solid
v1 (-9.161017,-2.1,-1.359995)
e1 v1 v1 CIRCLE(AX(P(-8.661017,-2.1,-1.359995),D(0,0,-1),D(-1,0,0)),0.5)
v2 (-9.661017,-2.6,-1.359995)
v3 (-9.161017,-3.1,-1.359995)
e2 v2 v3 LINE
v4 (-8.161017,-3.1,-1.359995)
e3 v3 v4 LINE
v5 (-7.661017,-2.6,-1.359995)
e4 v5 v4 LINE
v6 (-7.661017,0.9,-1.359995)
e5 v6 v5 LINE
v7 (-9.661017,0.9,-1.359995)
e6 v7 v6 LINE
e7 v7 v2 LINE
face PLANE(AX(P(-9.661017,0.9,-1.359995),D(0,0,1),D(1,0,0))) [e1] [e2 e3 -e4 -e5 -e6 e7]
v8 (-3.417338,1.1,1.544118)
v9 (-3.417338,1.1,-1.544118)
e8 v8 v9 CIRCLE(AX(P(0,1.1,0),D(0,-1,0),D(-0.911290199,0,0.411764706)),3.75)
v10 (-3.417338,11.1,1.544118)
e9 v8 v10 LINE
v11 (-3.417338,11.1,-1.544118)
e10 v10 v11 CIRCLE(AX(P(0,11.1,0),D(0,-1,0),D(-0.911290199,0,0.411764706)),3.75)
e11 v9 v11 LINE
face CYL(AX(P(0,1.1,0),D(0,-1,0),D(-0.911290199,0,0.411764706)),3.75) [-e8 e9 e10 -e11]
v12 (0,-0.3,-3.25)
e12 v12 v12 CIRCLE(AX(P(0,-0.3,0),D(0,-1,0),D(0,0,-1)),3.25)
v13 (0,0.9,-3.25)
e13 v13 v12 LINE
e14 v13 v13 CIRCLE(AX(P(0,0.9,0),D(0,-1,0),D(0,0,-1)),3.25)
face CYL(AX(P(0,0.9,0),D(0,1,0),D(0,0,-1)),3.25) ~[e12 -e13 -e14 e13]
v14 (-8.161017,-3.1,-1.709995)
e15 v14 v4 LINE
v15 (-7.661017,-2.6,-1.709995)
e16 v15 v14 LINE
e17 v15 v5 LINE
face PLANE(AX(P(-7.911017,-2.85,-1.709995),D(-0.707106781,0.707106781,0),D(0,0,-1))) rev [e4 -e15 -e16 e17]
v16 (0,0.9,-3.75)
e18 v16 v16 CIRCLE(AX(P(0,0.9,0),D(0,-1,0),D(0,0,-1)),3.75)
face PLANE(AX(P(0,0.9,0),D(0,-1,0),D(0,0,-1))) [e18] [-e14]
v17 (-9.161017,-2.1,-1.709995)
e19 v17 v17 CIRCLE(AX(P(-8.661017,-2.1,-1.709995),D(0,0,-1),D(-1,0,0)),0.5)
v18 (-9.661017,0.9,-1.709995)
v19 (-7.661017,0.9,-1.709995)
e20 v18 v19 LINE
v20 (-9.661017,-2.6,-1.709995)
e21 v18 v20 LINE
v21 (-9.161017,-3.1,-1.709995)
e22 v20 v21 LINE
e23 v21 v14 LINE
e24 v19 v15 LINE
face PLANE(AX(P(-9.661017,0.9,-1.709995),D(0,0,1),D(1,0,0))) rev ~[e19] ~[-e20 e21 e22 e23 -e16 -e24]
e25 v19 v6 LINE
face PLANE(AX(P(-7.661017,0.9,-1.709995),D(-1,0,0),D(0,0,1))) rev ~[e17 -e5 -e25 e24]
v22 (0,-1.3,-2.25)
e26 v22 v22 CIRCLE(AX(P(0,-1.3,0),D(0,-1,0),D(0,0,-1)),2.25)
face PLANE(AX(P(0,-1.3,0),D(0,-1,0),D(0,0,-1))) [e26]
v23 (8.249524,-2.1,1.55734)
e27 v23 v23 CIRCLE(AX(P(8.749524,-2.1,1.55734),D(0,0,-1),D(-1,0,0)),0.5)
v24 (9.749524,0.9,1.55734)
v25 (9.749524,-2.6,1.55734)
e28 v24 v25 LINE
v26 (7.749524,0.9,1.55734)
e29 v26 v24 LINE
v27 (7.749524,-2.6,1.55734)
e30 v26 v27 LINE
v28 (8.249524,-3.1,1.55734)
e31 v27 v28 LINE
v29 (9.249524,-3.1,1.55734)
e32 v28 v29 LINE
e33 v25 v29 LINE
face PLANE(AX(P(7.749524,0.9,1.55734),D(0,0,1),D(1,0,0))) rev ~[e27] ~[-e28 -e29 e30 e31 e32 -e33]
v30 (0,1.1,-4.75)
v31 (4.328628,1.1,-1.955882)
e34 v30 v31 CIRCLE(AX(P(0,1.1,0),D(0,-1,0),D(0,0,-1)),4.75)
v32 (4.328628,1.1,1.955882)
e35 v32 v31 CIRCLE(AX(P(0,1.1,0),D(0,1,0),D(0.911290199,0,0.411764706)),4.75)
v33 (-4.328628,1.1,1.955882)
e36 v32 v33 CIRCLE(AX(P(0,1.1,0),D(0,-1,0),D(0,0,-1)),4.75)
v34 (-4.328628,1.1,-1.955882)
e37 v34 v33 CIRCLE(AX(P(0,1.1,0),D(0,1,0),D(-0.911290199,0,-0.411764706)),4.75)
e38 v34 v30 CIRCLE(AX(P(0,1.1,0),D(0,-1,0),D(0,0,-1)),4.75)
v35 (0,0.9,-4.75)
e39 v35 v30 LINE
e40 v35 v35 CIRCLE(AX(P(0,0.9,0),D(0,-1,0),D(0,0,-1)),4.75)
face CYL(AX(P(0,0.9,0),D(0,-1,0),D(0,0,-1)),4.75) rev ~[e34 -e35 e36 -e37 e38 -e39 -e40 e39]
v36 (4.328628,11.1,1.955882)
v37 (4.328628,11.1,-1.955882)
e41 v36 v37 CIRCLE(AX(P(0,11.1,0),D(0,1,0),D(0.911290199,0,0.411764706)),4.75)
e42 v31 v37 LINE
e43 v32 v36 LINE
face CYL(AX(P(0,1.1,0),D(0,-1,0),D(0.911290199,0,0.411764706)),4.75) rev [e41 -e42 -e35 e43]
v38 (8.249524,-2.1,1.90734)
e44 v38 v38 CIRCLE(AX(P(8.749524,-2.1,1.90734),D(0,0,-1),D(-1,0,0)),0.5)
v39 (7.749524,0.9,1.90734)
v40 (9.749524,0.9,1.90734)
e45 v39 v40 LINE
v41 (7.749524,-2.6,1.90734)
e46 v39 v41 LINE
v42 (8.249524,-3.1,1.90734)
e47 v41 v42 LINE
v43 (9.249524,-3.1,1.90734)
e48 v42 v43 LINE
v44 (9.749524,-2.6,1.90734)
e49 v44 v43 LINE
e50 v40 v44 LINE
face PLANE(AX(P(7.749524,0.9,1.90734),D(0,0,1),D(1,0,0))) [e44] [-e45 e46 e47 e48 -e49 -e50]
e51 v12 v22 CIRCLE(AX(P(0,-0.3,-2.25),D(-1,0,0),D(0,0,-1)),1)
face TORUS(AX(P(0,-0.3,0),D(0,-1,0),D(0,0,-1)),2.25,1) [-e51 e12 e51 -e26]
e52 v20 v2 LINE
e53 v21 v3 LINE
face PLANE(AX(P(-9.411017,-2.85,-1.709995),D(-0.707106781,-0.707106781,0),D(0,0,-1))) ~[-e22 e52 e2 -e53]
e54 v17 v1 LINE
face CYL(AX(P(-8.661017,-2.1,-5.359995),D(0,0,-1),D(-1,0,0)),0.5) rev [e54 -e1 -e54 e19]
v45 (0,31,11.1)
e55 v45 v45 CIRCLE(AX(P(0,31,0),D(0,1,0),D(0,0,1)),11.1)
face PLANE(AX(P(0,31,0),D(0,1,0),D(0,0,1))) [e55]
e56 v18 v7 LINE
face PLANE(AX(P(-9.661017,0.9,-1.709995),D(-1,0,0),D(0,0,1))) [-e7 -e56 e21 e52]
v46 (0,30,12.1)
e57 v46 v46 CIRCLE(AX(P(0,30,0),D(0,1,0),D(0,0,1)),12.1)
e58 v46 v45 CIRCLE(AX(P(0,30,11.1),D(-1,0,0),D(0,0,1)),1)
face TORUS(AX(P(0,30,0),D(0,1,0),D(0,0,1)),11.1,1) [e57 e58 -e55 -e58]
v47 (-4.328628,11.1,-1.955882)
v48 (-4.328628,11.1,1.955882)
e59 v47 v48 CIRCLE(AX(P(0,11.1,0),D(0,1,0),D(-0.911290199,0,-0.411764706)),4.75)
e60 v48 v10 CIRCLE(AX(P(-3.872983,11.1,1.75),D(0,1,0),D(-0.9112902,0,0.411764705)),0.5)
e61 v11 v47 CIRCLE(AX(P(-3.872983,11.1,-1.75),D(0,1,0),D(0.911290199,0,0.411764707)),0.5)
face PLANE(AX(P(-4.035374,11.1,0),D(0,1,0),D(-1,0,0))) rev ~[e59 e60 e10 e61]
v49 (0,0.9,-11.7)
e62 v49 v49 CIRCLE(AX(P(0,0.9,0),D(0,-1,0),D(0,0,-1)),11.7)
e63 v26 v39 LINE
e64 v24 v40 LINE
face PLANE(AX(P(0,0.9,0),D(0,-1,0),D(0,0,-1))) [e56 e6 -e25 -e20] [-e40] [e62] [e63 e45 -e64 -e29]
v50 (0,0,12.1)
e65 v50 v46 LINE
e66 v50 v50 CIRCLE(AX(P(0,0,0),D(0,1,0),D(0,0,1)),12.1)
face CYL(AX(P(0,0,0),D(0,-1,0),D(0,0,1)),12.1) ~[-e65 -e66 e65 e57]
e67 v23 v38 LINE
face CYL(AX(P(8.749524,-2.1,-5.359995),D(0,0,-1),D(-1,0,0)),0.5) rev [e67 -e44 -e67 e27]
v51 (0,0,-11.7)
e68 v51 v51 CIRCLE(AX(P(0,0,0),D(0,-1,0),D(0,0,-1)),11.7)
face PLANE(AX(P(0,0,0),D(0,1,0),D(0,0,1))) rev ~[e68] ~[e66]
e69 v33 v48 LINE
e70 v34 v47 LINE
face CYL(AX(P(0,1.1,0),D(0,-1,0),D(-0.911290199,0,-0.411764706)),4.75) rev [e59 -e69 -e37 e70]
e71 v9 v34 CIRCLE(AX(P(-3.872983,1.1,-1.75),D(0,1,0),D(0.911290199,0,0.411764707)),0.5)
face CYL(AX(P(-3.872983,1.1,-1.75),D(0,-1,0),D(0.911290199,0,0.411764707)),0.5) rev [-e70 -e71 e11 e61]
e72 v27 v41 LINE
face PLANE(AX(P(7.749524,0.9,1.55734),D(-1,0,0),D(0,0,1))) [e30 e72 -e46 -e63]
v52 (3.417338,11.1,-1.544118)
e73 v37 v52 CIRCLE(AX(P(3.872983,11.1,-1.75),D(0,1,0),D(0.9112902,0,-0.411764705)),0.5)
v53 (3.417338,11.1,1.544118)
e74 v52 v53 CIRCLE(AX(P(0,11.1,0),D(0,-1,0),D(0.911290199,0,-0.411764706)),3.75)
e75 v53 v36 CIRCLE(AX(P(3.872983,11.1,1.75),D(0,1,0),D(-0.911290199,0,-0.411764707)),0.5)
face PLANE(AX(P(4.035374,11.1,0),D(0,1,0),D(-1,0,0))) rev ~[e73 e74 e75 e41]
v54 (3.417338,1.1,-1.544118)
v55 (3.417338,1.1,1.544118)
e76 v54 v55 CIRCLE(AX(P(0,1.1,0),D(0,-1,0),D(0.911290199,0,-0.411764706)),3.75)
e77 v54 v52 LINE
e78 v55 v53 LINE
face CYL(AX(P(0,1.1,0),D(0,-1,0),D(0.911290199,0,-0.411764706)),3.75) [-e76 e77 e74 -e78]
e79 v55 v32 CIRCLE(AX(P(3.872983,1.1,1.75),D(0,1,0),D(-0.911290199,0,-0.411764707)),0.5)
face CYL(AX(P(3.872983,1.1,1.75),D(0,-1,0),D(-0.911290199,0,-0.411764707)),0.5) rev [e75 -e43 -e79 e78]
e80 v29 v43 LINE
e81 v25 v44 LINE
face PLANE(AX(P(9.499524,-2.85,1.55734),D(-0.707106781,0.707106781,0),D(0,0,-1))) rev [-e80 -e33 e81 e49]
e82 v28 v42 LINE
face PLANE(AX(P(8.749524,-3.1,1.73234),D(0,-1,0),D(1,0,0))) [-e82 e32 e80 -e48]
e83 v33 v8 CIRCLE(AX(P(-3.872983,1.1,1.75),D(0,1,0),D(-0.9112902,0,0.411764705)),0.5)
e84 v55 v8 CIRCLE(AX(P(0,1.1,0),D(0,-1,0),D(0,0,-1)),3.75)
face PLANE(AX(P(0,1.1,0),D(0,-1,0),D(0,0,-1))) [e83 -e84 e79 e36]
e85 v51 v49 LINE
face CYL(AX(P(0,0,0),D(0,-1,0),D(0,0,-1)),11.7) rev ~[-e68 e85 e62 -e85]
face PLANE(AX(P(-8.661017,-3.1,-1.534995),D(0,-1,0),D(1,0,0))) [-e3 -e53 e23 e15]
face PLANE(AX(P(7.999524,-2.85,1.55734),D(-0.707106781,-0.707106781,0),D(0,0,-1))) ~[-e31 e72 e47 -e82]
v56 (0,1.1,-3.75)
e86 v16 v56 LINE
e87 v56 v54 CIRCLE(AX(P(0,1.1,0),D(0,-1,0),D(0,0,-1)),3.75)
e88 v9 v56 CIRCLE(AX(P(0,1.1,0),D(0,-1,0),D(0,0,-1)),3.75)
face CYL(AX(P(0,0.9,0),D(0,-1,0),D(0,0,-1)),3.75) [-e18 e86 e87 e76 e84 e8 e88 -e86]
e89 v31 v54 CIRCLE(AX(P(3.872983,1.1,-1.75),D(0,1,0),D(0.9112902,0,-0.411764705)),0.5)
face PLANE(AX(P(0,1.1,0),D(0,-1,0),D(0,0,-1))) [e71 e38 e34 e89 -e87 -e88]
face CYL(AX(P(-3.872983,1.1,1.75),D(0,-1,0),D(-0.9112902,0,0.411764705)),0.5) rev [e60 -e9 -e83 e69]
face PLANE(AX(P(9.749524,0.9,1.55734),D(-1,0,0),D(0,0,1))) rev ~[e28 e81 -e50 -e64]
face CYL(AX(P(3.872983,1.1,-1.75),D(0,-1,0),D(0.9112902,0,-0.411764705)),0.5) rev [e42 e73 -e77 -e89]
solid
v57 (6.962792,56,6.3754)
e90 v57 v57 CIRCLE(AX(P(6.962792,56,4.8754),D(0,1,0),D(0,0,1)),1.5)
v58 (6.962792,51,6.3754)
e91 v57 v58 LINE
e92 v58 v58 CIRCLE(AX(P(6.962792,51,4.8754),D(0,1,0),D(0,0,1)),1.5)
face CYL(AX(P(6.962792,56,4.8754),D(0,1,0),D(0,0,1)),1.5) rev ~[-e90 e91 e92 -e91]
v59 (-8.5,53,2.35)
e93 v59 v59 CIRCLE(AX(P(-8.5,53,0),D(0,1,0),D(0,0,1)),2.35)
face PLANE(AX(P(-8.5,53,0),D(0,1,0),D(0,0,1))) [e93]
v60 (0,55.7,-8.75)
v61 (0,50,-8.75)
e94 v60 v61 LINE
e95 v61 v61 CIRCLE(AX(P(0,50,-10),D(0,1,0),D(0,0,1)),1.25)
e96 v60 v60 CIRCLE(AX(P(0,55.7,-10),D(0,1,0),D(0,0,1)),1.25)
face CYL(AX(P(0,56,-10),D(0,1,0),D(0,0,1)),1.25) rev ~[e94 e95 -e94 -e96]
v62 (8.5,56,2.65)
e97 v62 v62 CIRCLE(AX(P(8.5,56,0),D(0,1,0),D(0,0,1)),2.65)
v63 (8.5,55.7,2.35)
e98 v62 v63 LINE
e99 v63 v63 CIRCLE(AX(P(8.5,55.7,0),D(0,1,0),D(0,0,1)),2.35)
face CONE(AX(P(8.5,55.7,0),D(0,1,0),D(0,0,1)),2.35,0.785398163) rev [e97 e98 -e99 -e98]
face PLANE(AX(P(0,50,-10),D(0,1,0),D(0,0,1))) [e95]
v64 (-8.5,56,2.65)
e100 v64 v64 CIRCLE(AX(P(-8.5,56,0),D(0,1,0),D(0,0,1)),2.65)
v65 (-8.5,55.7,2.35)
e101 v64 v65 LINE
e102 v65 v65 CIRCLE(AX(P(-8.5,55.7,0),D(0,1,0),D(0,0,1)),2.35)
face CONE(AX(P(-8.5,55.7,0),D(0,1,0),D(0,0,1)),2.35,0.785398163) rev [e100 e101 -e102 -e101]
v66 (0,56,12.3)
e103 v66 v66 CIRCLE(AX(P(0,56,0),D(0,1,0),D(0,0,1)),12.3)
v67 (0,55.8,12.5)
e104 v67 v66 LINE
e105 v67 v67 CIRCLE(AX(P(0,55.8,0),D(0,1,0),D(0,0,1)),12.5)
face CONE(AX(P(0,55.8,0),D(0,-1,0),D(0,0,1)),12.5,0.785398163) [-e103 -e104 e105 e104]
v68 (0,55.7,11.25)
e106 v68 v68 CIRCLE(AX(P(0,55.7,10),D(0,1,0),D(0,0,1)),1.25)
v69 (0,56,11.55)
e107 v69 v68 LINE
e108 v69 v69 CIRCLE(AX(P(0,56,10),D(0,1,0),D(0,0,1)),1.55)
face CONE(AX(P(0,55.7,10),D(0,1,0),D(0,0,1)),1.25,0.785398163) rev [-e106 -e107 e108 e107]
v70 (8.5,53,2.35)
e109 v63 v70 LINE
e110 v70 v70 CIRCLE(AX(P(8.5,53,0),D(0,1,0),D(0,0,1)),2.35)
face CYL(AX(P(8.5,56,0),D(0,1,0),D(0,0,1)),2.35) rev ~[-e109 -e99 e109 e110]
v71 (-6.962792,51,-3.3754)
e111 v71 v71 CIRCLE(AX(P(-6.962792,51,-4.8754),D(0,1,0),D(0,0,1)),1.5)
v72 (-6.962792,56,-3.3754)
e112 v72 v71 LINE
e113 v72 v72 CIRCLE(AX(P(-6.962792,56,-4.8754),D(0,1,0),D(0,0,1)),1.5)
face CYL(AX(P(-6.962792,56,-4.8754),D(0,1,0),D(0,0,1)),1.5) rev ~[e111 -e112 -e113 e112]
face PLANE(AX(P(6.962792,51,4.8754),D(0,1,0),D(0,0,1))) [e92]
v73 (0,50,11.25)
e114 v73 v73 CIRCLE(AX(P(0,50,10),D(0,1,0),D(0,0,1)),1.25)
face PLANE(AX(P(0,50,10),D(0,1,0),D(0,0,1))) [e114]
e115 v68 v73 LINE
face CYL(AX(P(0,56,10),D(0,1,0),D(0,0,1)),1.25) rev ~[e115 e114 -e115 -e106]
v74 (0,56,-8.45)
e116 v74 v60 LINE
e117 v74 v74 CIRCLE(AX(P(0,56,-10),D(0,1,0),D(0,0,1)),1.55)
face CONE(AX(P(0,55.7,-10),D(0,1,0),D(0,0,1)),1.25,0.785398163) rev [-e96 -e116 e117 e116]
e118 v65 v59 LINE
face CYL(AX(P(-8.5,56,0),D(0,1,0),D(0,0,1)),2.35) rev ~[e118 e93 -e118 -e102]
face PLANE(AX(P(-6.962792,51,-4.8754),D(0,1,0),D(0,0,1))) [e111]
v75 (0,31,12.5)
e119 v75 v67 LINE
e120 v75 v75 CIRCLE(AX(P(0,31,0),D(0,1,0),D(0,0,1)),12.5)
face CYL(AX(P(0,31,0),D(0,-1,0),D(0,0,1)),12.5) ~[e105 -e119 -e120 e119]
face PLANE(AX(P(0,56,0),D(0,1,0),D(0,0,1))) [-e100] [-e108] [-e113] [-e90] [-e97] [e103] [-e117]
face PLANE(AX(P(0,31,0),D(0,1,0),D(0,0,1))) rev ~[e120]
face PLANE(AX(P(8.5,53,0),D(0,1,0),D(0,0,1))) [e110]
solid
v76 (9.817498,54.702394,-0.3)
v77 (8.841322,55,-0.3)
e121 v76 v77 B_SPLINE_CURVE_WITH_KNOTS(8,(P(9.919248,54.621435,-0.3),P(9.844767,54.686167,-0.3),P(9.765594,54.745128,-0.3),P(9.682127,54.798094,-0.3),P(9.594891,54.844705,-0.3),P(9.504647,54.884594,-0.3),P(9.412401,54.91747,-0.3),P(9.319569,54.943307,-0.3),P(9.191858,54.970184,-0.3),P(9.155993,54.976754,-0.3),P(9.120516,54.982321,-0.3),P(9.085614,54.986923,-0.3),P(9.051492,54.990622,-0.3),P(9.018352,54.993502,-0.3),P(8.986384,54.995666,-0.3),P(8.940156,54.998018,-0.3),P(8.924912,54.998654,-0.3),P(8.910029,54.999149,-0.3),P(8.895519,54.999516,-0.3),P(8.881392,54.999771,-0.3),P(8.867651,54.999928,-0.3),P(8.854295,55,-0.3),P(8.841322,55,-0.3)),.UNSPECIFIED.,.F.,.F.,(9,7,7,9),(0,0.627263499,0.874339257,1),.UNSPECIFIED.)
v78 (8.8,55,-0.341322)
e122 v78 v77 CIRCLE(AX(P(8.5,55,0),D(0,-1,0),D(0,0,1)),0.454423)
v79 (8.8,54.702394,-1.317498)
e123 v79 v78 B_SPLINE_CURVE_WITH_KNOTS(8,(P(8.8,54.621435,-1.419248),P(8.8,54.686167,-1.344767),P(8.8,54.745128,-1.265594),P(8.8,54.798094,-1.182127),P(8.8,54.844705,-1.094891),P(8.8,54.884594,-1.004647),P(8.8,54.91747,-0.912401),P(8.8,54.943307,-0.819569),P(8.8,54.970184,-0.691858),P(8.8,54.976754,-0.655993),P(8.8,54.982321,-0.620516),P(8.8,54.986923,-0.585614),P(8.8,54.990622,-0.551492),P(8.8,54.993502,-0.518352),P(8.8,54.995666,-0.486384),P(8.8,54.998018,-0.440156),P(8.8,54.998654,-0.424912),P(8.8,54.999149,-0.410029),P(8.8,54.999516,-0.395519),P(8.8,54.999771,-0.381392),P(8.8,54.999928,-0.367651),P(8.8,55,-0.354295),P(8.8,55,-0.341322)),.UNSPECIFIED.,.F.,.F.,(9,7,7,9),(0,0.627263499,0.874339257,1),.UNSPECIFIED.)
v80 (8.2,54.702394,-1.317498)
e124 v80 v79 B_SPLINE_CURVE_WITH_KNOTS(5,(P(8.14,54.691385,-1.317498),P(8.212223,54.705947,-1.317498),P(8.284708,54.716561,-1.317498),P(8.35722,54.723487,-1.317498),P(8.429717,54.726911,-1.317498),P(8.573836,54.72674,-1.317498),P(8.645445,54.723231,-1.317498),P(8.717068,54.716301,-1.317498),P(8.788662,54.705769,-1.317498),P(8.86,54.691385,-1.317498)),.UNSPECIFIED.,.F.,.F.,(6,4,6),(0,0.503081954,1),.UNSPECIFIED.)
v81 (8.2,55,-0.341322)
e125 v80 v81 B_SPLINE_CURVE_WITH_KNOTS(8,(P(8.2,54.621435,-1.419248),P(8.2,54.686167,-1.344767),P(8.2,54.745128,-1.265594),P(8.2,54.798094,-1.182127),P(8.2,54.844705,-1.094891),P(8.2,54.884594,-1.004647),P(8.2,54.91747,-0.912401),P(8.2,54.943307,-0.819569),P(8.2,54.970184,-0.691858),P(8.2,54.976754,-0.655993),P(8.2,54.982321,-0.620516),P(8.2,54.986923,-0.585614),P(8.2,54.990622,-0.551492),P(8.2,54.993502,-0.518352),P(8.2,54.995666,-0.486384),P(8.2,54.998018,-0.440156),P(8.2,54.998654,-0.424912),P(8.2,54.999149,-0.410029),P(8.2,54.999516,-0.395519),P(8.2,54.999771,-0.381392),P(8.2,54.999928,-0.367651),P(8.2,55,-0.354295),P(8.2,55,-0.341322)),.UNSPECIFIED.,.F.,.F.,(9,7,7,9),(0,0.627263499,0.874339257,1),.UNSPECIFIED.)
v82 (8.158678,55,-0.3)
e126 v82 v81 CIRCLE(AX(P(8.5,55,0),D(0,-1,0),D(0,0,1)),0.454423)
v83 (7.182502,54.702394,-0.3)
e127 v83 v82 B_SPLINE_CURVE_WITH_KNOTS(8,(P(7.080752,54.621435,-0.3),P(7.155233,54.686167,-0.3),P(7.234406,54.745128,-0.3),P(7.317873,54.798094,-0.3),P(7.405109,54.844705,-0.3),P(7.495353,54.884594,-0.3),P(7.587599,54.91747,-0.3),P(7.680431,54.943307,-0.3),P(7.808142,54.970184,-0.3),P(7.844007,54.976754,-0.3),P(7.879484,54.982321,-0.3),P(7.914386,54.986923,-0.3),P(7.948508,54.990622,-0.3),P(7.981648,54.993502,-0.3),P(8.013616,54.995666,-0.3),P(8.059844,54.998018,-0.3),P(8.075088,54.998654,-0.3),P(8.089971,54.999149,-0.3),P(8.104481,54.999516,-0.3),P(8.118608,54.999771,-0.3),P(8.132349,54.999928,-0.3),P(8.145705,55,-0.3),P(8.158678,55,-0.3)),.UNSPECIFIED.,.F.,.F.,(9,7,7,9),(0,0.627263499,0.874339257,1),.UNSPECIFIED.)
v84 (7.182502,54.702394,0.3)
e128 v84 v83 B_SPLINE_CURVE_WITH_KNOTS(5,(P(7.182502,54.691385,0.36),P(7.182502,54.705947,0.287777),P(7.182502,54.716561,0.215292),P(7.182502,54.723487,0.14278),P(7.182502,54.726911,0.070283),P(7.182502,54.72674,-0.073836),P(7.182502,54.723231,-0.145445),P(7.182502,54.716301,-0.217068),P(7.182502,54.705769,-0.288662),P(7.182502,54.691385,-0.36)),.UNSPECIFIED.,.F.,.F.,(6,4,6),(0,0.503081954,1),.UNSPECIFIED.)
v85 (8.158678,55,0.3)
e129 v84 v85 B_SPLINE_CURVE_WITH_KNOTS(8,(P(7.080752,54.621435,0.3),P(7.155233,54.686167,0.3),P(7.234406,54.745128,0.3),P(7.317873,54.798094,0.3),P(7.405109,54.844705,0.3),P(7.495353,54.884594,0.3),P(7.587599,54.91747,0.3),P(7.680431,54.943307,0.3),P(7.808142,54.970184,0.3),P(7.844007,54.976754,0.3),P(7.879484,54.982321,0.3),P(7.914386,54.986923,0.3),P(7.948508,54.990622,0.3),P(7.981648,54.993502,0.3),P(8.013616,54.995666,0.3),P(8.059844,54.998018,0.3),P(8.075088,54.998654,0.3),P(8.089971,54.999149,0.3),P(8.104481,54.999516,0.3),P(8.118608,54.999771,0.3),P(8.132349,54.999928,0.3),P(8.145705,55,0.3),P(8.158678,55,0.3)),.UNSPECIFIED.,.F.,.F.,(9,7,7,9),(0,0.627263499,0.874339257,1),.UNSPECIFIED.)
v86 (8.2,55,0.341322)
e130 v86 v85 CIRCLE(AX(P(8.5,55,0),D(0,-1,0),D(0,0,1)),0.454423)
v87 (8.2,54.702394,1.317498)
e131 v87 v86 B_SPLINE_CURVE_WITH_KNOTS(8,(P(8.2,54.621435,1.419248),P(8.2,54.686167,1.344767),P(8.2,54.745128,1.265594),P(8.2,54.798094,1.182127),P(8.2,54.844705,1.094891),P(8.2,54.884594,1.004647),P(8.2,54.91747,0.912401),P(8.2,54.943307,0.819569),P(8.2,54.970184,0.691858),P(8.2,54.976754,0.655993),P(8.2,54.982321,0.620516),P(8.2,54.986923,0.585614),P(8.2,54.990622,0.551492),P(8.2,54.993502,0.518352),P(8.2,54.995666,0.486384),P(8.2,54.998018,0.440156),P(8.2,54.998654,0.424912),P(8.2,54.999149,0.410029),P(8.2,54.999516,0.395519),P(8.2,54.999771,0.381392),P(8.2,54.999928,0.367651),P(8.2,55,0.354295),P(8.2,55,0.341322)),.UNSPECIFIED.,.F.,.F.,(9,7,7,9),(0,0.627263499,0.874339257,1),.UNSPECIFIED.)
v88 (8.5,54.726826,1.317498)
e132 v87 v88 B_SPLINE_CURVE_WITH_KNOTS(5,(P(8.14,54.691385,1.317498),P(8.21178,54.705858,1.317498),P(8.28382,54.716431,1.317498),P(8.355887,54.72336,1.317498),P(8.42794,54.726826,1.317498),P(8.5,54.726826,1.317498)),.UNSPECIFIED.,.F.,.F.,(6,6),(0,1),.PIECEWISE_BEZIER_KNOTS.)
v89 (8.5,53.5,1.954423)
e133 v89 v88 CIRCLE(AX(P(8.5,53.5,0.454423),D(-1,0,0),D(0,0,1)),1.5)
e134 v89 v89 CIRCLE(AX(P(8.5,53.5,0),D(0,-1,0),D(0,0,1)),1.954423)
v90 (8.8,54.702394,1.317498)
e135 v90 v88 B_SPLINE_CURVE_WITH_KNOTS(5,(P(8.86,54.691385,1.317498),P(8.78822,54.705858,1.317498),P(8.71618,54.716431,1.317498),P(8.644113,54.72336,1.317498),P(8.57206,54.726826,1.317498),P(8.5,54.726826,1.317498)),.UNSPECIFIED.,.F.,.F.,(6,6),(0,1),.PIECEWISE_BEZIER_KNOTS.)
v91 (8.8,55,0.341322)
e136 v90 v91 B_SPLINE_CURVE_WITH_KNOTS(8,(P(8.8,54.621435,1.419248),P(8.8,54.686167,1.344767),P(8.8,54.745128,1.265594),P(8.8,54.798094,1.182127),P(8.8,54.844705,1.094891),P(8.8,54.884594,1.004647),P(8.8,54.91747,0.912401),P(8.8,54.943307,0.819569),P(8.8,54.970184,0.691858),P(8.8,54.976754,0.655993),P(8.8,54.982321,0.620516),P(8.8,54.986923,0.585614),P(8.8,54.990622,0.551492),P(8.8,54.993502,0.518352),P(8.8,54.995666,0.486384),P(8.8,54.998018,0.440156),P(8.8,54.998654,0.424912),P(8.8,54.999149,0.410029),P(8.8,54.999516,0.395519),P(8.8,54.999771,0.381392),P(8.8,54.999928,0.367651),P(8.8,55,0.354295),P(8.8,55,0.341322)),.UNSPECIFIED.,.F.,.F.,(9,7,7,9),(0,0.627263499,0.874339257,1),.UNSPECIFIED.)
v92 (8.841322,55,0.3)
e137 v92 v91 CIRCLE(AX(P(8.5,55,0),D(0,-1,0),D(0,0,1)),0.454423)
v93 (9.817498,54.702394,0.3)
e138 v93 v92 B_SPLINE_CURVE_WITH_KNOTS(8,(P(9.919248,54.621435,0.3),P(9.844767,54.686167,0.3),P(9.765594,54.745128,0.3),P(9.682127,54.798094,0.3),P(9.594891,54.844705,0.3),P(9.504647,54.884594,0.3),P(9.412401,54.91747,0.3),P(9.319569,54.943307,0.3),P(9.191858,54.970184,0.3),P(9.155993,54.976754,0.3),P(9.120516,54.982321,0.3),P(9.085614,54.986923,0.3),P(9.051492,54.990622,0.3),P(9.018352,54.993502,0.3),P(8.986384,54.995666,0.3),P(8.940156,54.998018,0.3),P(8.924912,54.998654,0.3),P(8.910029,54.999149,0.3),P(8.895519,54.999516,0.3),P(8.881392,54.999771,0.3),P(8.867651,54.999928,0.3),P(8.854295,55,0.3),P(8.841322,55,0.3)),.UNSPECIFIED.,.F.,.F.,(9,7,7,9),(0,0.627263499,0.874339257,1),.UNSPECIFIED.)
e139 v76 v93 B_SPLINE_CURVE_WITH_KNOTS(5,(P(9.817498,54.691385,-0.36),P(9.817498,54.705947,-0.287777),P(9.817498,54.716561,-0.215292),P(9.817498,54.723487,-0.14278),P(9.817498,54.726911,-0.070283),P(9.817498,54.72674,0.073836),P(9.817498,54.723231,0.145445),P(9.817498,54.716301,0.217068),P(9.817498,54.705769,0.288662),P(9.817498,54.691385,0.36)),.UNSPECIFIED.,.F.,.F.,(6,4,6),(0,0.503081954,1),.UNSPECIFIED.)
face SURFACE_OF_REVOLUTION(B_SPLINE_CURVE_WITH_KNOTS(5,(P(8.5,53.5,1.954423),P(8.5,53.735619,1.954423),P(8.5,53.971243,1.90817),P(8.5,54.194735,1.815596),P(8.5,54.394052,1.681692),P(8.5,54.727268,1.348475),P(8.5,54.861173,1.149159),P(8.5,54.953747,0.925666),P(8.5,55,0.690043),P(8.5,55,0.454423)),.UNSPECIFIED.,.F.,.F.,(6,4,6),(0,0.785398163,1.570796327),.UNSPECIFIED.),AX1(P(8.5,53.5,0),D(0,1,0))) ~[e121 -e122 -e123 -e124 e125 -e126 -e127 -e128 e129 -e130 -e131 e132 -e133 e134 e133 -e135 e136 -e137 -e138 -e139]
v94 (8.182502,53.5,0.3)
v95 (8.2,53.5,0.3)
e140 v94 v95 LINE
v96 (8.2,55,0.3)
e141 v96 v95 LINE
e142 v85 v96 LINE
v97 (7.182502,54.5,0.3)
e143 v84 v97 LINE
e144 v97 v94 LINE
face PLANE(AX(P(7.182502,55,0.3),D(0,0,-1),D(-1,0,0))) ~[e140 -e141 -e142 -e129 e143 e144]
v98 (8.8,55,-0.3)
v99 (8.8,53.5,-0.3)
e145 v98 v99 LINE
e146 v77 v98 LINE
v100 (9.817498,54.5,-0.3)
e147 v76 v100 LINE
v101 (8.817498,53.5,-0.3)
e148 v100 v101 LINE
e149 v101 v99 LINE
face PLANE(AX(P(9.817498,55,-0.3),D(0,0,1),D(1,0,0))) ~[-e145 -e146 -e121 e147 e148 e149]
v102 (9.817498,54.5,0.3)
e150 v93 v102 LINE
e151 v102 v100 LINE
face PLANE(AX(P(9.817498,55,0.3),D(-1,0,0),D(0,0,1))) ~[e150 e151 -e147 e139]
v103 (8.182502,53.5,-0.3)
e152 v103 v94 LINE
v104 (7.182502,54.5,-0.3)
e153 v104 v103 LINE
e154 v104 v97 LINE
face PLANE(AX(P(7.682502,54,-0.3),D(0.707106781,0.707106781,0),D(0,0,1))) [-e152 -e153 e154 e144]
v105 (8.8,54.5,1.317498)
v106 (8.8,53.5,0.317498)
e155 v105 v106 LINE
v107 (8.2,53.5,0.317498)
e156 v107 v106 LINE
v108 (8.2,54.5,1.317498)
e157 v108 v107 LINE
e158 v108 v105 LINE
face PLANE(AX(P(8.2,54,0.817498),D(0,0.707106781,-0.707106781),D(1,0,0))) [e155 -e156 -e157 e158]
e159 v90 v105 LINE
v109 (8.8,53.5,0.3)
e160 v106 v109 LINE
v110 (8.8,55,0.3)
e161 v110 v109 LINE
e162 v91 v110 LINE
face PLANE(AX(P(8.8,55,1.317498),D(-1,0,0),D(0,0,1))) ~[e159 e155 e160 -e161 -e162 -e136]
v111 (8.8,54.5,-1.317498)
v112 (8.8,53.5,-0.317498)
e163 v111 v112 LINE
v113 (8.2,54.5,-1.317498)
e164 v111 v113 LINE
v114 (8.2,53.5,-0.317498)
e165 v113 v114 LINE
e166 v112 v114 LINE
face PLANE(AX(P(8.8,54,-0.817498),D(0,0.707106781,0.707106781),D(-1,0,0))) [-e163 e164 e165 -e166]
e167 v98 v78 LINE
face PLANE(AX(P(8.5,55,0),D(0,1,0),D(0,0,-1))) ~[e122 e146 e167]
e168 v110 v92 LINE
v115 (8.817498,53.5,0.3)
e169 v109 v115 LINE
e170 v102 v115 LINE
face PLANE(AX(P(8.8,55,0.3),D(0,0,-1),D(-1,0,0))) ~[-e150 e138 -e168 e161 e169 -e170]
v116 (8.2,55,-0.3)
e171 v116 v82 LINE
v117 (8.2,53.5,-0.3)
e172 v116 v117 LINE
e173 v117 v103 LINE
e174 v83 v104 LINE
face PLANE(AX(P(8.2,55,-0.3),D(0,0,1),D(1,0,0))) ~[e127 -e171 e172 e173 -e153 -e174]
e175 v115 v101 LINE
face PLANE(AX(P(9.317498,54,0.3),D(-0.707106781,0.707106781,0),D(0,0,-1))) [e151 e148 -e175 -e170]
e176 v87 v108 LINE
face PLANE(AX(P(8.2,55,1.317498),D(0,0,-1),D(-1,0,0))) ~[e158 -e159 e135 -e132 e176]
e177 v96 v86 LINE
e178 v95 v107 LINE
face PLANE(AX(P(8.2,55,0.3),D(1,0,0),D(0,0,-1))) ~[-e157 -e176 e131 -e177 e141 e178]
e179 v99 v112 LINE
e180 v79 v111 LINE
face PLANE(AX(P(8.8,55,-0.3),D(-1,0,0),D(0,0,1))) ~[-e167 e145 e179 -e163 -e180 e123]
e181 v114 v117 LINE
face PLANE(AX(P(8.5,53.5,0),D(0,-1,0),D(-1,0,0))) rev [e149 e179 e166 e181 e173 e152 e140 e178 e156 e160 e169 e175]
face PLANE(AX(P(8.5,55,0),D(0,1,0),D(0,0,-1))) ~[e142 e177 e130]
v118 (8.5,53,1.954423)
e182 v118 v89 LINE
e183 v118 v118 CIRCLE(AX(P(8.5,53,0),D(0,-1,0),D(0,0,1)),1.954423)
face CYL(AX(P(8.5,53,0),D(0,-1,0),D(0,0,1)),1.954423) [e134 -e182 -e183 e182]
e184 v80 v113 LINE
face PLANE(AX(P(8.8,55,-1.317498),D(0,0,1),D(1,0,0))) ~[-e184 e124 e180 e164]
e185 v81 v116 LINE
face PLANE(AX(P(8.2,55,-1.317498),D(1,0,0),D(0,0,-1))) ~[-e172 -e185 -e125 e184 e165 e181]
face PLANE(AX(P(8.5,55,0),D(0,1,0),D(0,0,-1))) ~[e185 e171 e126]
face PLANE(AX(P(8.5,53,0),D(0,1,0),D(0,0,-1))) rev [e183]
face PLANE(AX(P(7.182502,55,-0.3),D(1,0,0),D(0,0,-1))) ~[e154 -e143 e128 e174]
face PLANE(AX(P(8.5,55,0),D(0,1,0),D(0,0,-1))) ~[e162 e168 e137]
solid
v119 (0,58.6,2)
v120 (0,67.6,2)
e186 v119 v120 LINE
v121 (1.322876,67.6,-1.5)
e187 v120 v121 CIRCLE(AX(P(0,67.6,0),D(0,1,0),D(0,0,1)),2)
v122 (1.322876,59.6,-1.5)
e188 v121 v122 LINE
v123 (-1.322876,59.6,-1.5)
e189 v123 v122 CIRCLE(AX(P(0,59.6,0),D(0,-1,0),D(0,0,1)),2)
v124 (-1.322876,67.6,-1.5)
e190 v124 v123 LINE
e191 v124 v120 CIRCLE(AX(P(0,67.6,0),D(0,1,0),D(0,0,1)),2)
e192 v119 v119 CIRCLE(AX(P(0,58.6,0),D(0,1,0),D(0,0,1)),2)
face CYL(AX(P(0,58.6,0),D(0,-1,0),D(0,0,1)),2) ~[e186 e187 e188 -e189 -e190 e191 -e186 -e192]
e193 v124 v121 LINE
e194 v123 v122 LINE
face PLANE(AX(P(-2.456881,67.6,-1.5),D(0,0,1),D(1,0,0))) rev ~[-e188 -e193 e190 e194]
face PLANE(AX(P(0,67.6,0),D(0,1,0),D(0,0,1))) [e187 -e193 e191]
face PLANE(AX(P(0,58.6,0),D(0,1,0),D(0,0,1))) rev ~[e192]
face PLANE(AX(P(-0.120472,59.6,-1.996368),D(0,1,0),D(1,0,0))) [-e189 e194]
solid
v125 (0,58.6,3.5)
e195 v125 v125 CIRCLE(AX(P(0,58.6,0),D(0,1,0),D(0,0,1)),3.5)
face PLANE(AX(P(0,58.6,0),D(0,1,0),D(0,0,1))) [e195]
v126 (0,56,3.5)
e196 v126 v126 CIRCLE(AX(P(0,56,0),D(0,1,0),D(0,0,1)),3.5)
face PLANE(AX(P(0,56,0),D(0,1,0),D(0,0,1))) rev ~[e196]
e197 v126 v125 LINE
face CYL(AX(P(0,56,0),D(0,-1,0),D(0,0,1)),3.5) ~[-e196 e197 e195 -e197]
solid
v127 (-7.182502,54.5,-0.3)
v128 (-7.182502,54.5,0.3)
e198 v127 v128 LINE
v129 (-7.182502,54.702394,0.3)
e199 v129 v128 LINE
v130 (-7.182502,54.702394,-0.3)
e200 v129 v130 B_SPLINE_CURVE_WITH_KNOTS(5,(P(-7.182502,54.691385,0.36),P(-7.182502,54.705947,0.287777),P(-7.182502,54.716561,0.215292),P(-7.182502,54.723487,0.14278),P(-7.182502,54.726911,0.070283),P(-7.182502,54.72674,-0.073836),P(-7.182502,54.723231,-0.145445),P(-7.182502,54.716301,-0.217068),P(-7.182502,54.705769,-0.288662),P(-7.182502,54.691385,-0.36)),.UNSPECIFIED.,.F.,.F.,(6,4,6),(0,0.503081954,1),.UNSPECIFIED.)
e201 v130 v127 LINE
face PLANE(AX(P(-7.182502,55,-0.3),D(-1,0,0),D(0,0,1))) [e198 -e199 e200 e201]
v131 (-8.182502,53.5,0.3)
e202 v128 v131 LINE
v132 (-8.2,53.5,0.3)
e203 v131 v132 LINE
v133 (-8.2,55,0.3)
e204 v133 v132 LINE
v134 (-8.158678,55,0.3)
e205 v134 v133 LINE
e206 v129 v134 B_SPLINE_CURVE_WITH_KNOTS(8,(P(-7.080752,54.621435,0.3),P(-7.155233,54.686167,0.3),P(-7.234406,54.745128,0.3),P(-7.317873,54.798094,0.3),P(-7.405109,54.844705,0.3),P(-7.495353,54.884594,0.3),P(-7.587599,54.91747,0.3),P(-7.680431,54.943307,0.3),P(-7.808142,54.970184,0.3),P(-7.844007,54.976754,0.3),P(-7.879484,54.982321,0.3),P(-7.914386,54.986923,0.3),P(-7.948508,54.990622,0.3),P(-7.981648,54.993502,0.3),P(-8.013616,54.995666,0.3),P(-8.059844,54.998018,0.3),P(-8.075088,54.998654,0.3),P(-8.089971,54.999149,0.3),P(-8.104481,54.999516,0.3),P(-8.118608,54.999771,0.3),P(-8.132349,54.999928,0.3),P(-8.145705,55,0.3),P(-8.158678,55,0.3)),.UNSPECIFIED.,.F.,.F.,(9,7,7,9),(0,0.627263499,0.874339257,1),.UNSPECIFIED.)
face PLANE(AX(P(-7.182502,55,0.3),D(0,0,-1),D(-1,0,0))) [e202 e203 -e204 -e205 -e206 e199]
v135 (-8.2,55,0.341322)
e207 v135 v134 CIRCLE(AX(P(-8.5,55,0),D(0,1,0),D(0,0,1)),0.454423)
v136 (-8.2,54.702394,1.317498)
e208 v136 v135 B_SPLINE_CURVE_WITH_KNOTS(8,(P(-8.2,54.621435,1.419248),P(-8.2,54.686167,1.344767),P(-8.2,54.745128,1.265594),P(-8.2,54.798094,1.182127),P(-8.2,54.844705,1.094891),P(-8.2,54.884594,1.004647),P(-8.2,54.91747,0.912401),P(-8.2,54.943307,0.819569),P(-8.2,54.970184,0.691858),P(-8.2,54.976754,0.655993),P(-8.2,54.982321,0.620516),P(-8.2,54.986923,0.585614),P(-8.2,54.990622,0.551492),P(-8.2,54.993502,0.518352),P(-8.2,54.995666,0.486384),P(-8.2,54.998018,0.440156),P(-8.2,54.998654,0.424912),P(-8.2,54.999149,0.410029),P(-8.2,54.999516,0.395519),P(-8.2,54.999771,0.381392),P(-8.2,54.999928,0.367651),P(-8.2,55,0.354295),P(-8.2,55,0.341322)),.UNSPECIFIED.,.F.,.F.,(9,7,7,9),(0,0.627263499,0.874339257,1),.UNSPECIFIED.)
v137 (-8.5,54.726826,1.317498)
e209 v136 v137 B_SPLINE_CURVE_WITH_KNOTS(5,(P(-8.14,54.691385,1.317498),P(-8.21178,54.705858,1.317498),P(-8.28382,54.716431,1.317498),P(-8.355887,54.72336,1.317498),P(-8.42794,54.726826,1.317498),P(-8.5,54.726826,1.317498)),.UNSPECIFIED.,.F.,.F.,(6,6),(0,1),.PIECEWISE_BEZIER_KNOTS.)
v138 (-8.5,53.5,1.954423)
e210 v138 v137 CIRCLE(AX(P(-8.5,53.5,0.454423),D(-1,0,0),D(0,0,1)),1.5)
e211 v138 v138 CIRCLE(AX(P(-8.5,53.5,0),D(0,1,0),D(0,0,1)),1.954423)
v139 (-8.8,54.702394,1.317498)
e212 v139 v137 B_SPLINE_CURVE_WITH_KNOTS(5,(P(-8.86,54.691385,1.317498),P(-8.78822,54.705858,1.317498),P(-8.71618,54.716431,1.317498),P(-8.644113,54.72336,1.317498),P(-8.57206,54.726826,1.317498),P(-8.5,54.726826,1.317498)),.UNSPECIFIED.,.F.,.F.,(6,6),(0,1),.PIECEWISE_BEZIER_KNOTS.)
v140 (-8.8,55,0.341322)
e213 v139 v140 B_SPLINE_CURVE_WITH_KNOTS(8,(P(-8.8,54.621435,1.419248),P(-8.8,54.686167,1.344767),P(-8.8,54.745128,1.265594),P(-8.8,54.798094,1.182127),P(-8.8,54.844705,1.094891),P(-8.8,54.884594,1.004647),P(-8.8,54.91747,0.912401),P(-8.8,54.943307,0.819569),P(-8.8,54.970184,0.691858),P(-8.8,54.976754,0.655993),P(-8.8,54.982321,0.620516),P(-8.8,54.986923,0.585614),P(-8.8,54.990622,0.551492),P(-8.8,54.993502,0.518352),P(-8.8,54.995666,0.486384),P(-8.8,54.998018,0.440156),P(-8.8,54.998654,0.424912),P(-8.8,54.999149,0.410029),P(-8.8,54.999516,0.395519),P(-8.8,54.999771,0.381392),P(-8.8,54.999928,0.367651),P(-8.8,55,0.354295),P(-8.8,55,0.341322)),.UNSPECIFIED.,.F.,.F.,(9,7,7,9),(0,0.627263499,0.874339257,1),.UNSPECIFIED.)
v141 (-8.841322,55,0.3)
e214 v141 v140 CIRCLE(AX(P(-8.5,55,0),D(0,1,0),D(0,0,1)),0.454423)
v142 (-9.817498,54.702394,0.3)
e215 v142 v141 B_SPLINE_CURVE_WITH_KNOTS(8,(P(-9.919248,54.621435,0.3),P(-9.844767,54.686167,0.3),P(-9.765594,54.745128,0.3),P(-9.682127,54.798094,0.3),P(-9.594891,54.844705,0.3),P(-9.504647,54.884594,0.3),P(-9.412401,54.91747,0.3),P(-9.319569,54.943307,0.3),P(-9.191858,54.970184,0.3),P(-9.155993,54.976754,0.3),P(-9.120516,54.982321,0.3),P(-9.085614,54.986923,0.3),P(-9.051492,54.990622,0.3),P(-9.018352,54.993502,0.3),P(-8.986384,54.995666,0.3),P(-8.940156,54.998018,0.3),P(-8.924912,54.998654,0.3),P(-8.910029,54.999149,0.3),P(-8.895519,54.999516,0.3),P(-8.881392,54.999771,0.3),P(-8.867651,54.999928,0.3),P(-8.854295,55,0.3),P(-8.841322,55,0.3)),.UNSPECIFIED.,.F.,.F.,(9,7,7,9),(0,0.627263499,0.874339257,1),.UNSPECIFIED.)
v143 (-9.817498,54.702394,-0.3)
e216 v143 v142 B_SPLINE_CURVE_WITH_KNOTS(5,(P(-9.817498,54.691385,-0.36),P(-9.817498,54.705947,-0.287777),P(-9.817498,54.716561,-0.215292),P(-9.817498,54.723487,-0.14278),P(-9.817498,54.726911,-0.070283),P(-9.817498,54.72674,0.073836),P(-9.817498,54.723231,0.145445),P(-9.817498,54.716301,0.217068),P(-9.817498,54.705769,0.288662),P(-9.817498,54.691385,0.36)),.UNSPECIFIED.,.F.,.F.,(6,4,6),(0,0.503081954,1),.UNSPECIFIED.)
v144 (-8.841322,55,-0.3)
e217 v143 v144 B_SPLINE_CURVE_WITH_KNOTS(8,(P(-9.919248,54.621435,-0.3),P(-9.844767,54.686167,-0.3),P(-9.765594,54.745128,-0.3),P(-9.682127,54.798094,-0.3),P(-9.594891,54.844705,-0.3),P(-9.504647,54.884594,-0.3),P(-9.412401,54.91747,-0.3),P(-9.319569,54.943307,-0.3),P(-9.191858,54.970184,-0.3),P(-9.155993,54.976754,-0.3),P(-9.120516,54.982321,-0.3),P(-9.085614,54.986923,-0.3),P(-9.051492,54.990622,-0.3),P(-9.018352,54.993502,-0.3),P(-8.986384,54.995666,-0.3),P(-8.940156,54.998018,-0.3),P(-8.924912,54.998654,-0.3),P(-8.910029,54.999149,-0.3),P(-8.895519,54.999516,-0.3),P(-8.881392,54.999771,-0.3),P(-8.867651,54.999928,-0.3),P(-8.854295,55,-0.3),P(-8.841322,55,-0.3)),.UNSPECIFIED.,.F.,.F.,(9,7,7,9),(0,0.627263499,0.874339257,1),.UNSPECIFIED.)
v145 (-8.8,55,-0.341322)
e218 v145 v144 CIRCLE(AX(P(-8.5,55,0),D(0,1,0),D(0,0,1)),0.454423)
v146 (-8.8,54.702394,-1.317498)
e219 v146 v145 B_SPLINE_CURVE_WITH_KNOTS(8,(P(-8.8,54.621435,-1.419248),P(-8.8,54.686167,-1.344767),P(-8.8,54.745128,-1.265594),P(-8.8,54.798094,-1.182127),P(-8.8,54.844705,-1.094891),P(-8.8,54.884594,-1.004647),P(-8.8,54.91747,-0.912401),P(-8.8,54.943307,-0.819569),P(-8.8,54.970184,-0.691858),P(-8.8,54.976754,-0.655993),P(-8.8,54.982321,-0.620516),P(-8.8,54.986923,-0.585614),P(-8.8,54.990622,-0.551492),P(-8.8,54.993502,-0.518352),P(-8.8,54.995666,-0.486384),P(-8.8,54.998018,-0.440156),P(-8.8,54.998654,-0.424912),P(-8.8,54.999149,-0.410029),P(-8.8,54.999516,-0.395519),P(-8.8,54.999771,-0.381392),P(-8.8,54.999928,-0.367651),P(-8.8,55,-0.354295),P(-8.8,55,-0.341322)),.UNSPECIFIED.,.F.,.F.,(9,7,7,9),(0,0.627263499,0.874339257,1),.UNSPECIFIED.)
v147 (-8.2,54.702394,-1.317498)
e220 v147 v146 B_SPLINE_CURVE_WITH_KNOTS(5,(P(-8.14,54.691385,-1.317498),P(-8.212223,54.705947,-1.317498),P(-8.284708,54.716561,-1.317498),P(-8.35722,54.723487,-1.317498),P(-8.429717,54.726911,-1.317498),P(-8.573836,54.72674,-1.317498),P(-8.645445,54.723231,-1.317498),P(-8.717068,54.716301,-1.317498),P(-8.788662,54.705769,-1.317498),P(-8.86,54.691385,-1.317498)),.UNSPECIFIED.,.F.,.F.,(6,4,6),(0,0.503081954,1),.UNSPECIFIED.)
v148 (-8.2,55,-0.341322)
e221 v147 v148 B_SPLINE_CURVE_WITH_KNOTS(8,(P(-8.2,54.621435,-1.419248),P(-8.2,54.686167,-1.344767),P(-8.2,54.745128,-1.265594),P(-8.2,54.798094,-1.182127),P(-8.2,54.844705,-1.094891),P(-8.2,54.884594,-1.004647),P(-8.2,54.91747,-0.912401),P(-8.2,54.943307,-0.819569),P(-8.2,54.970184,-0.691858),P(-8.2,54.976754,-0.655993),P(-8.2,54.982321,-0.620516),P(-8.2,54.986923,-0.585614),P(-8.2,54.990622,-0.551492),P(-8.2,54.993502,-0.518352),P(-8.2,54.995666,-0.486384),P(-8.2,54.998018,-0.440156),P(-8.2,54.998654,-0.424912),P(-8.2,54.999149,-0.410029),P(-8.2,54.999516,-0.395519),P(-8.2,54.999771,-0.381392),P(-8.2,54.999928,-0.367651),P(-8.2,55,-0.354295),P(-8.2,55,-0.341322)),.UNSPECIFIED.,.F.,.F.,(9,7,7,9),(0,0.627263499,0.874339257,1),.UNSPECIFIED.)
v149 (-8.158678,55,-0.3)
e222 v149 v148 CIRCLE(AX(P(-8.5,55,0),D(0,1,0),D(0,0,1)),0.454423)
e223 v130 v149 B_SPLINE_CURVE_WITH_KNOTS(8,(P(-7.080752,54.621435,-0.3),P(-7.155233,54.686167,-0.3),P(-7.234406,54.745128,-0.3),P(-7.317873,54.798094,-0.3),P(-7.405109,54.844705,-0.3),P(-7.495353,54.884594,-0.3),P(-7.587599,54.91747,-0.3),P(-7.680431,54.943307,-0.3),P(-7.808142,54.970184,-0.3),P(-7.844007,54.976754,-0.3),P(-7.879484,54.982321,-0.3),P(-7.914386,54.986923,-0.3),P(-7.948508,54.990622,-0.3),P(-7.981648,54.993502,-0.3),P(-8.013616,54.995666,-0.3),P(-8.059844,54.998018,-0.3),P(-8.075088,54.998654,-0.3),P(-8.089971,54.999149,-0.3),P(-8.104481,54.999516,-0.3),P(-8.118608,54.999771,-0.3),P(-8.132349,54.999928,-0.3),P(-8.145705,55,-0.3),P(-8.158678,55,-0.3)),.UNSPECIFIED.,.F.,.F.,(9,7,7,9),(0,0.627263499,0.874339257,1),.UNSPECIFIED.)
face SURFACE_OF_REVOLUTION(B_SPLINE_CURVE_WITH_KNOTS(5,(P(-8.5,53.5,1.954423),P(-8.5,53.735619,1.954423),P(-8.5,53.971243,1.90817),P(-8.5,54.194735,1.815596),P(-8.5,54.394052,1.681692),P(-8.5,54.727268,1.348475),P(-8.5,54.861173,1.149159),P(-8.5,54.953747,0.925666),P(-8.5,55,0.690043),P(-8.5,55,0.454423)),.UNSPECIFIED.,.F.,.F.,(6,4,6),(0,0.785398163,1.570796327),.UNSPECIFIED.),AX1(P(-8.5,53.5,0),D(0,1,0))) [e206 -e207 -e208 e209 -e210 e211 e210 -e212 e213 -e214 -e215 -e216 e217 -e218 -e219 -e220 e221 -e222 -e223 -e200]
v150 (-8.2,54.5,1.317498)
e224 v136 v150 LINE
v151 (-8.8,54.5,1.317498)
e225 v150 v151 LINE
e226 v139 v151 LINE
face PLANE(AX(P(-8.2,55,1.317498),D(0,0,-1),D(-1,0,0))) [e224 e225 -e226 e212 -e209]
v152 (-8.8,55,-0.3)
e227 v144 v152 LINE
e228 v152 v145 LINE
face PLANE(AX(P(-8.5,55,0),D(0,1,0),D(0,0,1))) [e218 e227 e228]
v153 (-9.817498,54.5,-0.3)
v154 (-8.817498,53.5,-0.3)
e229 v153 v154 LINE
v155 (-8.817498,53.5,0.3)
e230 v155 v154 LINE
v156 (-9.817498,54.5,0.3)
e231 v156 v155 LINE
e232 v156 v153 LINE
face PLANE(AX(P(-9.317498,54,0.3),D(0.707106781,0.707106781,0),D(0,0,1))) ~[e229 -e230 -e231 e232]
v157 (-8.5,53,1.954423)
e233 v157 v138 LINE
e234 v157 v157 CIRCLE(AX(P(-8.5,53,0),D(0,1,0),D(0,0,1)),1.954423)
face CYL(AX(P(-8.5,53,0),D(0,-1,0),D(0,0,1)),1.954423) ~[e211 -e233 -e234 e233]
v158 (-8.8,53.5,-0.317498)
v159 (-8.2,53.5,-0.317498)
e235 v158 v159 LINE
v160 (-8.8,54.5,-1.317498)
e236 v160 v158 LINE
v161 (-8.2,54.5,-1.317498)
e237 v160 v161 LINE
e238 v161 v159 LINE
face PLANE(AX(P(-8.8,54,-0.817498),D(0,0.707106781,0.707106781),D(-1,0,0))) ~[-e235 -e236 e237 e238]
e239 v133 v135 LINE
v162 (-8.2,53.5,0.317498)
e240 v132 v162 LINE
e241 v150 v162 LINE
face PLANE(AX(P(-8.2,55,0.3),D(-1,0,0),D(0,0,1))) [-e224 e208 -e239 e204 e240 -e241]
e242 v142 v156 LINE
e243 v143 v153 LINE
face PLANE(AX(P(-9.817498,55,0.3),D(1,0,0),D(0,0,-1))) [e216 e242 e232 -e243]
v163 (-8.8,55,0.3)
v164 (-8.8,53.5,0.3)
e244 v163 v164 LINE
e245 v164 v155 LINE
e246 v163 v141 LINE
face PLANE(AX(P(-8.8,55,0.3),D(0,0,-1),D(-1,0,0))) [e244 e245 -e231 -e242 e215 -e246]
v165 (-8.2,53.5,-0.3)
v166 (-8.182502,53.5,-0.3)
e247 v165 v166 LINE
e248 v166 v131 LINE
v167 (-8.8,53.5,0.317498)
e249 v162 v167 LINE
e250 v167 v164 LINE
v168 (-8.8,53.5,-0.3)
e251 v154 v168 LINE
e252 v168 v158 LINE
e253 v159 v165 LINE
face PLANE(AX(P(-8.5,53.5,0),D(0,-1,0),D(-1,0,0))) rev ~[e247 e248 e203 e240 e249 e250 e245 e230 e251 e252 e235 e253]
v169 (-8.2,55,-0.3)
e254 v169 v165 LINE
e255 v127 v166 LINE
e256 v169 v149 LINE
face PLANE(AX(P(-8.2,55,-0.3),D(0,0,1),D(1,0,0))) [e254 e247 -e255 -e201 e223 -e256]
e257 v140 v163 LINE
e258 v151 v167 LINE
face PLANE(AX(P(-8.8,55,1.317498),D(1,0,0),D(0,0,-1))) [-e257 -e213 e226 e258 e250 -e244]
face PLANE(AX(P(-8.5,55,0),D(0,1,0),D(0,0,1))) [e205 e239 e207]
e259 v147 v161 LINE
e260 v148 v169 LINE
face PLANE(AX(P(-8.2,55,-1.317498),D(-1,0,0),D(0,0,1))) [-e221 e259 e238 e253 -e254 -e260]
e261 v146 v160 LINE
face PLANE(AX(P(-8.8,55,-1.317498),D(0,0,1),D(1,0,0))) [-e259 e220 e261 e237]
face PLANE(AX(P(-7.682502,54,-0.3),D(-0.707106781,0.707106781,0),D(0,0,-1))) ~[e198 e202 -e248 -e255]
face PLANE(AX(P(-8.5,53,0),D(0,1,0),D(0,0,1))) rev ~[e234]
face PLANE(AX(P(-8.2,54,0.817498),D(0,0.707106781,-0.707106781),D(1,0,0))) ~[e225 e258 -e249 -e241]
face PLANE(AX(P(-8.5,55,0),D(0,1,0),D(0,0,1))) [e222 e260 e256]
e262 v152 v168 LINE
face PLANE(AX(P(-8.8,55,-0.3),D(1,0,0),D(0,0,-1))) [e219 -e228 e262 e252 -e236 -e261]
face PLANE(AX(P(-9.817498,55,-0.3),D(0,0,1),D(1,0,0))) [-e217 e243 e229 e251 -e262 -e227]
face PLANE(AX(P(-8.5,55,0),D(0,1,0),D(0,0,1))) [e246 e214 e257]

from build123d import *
from build123d.topology import SkipClean

# Parameters (mm, degrees)
SKETCH1_R               = 12.1
BOSS_EXTRUDE1_DEPTH     = 31
FILLET1_R               = 1
SKETCH2_R               = 12.5
BOSS_EXTRUDE2_DEPTH     = 25
CHAMFER1_SIZE           = 0.2
SKETCH4_R               = 11.7
CUT_EXTRUDE1_DEPTH      = 0.9
SKETCH5_R               = 3.25
BOSS_EXTRUDE3_DEPTH     = 2.2
FILLET2_R               = 1
SKETCH7_W               = 2
SKETCH7_H               = 0.35
BOSS_EXTRUDE4_DEPTH     = 4
CHAMFER2_SIZE           = 0.5
CUT_EXTRUDE2_DEPTH      = 60.028378367
CUT_EXTRUDE2_DEPTH_BACK = 4
SKETCH8_R               = 0.5
SKETCH9_R               = 4.75
SKETCH9_R_2             = 3.75
CUT_EXTRUDE3_DEPTH      = 0.2
CUT_EXTRUDE4_DEPTH      = 10
SKETCH11_R              = 3.5
BOSS_EXTRUDE5_DEPTH     = 2.6
SKETCH12_R              = 2
BOSS_EXTRUDE6_DEPTH     = 9
SKETCH13_W              = 4.672818147
SKETCH13_H              = 0.992736672
CUT_EXTRUDE5_DEPTH      = 8
SKETCH14_R              = 2.35
CUT_EXTRUDE6_DEPTH      = 3
SKETCH15_R              = 1.95442331
BOSS_EXTRUDE7_DEPTH     = 2
FILLET3_R               = 1.5
CUT_EXTRUDE7_DEPTH      = 1.5
CHAMFER3_SIZE           = 1
CHAMFER4_SIZE           = 0.3
SKETCH17_R              = 1.25
CUT_EXTRUDE8_DEPTH      = 6
CHAMFER5_SIZE           = 0.3
SKETCH18_R              = 1.5
CUT_EXTRUDE9_DEPTH      = 5


with BuildPart() as part:
    # Sketch1 → Boss-Extrude1 (new body)
    with BuildSketch(Plane(origin=(0, 0, 0), x_dir=(1, 0, 0), z_dir=(0, 1, 0))):
        with Locations(Location((0, 0, 0), (0, 0, 270))):
            Circle(SKETCH1_R)
    extrude(amount=BOSS_EXTRUDE1_DEPTH)

    # Fillet1
    fillet1_edges = [part.edges().sort_by_distance(p)[0] for p in [
        (0, 31, -12.1),
    ]]
    fillet(fillet1_edges, radius=FILLET1_R)

    # Sketch4 → Cut-Extrude1 (cut)
    with BuildSketch(Plane.XZ):
        with Locations(Location((0, 0, 0), (0, 0, 270))):
            Circle(SKETCH4_R)
    extrude(amount=-CUT_EXTRUDE1_DEPTH, mode=Mode.SUBTRACT)

    # Sketch5 → Boss-Extrude3 (add)
    with BuildSketch(Plane.XZ.offset(-0.9)):
        with Locations(Location((0, 0, 0), (0, 0, 270))):
            Circle(SKETCH5_R)
    extrude(amount=BOSS_EXTRUDE3_DEPTH)

    # Fillet2
    fillet2_edges = [part.edges().sort_by_distance(p)[0] for p in [
        (0, -1.3, 3.25),
    ]]
    fillet(fillet2_edges, radius=FILLET2_R)

    # Sketch7 → Boss-Extrude4 (add)
    with BuildSketch(Plane.XZ.offset(-0.9)):
        with Locations((-8.661017218, -1.534994682)):
            Rectangle(SKETCH7_W, SKETCH7_H)
        with Locations((8.749524169, 1.732340014)):
            Rectangle(SKETCH7_W, SKETCH7_H)
    extrude(amount=BOSS_EXTRUDE4_DEPTH)

    # Chamfer2
    chamfer2_edges = [part.edges().sort_by_distance(p)[0] for p in [
        (-9.661017218, -3.1, -1.534994682),
        (-7.661017218, -3.1, -1.534994682),
        (7.749524169, -3.1, 1.732340014),
        (9.749524169, -3.1, 1.732340014),
    ]]
    chamfer(chamfer2_edges, length=CHAMFER2_SIZE)

    # Sketch8 → Cut-Extrude2 (cut, two sides: drawn at the far end of the back side and taken through both)
    with BuildSketch(Plane.XY.offset(-1.359994682).offset(-CUT_EXTRUDE2_DEPTH_BACK)):
        with Locations(Location((-8.661017218, -2.1, 0), (0, 0, 180))):
            Circle(SKETCH8_R)
        with Locations(Location((8.749524169, -2.1, 0), (0, 0, 180))):
            Circle(SKETCH8_R)
    extrude(amount=CUT_EXTRUDE2_DEPTH + CUT_EXTRUDE2_DEPTH_BACK, mode=Mode.SUBTRACT)

    # Sketch9 → Cut-Extrude3 (cut)
    with BuildSketch(Plane.XZ.offset(-0.9)):
        with Locations(Location((0, 0, 0), (0, 0, 270))):
            Circle(SKETCH9_R)
        with Locations(Location((0, 0, 0), (0, 0, 270))):
            Circle(SKETCH9_R_2, mode=Mode.SUBTRACT)
    extrude(amount=-CUT_EXTRUDE3_DEPTH, mode=Mode.SUBTRACT)

    # Sketch10 → Cut-Extrude4 (cut)
    with SkipClean():  # the faces are left unmerged after this step: merging them gives an invalid solid
        with BuildSketch(Plane.XZ.offset(-1.1)):
            with BuildLine():
                ThreePointArc((-3.417338247, 1.544117647), (-3.75, 0), (-3.417338247, -1.544117647))
                ThreePointArc((-3.417338247, -1.544117647), (-3.667100993, -2.2056451), (-4.328628446, -1.955882353))
                ThreePointArc((-4.328628446, -1.955882353), (-4.75, 0), (-4.328628446, 1.955882353))
                ThreePointArc((-4.328628446, 1.955882353), (-3.667100993, 2.2056451), (-3.417338247, 1.544117647))
            make_face()
            with BuildLine():
                ThreePointArc((4.328628446, -1.955882353), (3.667100993, -2.2056451), (3.417338247, -1.544117647))
                ThreePointArc((3.417338247, -1.544117647), (3.75, 0), (3.417338247, 1.544117647))
                ThreePointArc((3.417338247, 1.544117647), (3.667100993, 2.2056451), (4.328628446, 1.955882353))
                ThreePointArc((4.328628446, 1.955882353), (4.75, 0), (4.328628446, -1.955882353))
            make_face()
        extrude(amount=-CUT_EXTRUDE4_DEPTH, mode=Mode.SUBTRACT)


with BuildPart() as body_2:
    # Sketch2 → Boss-Extrude2 (new body)
    with BuildSketch(Plane(origin=(0, 31, 0), x_dir=(1, 0, 0), z_dir=(0, 1, 0))):
        with Locations(Location((0, 0, 0), (0, 0, 270))):
            Circle(SKETCH2_R)
    extrude(amount=BOSS_EXTRUDE2_DEPTH)

    # Chamfer1
    chamfer1_edges = [body_2.edges().sort_by_distance(p)[0] for p in [
        (0, 56, -12.5),
    ]]
    chamfer(chamfer1_edges, length=CHAMFER1_SIZE)

    # Sketch14 → Cut-Extrude6 (cut)
    with BuildSketch(Plane(origin=(0, 56, 0), x_dir=(1, 0, 0), z_dir=(0, 1, 0))):
        with Locations(Location((-8.5, 0, 0), (0, 0, 270))):
            Circle(SKETCH14_R)
        with Locations(Location((8.5, 0, 0), (0, 0, 270))):
            Circle(SKETCH14_R)
    extrude(amount=-CUT_EXTRUDE6_DEPTH, mode=Mode.SUBTRACT)

    # Chamfer4
    chamfer4_edges = [body_2.edges().sort_by_distance(p)[0] for p in [
        (-8.5, 56, -2.35),
        (8.5, 56, -2.35),
    ]]
    chamfer(chamfer4_edges, length=CHAMFER4_SIZE)

    # Sketch17 → Cut-Extrude8 (cut)
    with BuildSketch(Plane(origin=(0, 56, 0), x_dir=(1, 0, 0), z_dir=(0, 1, 0))):
        with Locations(Location((0, 10, 0), (0, 0, 270))):
            Circle(SKETCH17_R)
        with Locations(Location((0, -10, 0), (0, 0, 270))):
            Circle(SKETCH17_R)
    extrude(amount=-CUT_EXTRUDE8_DEPTH, mode=Mode.SUBTRACT)

    # Chamfer5
    chamfer5_edges = [body_2.edges().sort_by_distance(p)[0] for p in [
        (0, 56, -11.25),
        (0, 56, 8.75),
    ]]
    chamfer(chamfer5_edges, length=CHAMFER5_SIZE)

    # Sketch18 → Cut-Extrude9 (cut)
    with BuildSketch(Plane(origin=(0, 56, 0), x_dir=(1, 0, 0), z_dir=(0, 1, 0))):
        with Locations(Location((-6.962792376, 4.875399709, 0), (0, 0, 270))):
            Circle(SKETCH18_R)
        with Locations(Location((6.962792376, -4.875399709, 0), (0, 0, 270))):
            Circle(SKETCH18_R)
    extrude(amount=-CUT_EXTRUDE9_DEPTH, mode=Mode.SUBTRACT)


with BuildPart() as body_3:
    # Sketch11 → Boss-Extrude5 (new body)
    with BuildSketch(Plane(origin=(0, 56, 0), x_dir=(1, 0, 0), z_dir=(0, 1, 0))):
        with Locations(Location((0, 0, 0), (0, 0, 270))):
            Circle(SKETCH11_R)
    extrude(amount=BOSS_EXTRUDE5_DEPTH)


with BuildPart() as body_4:
    # Sketch12 → Boss-Extrude6 (new body)
    with BuildSketch(Plane(origin=(0, 58.6, 0), x_dir=(1, 0, 0), z_dir=(0, 1, 0))):
        with Locations(Location((0, 0, 0), (0, 0, 270))):
            Circle(SKETCH12_R)
    extrude(amount=BOSS_EXTRUDE6_DEPTH)

    # Sketch13 → Cut-Extrude5 (cut)
    with BuildSketch(Plane(origin=(0, 67.6, 0), x_dir=(1, 0, 0), z_dir=(0, 1, 0))):
        with Locations((-0.120471852, 1.996368336)):
            Rectangle(SKETCH13_W, SKETCH13_H)
    extrude(amount=-CUT_EXTRUDE5_DEPTH, mode=Mode.SUBTRACT)


with BuildPart() as body_5:
    # Sketch15 → Boss-Extrude7 (new body)
    with BuildSketch(Plane(origin=(0, 53, 0), x_dir=(1, 0, 0), z_dir=(0, 1, 0))):
        with Locations(Location((-8.5, 0, 0), (0, 0, 270))):
            Circle(SKETCH15_R)
    extrude(amount=BOSS_EXTRUDE7_DEPTH)

    # Fillet3
    fillet3_edges = [body_5.edges().sort_by_distance(p)[0] for p in [
        (-8.5, 55, -1.95442331),
    ]]
    fillet(fillet3_edges, radius=FILLET3_R)

    # Sketch16 → Cut-Extrude7 (cut)
    with BuildSketch(Plane(origin=(0, 55, 0), x_dir=(1, 0, 0), z_dir=(0, 1, 0))):
        Polygon((-8.2, -1.317498097), (-8.8, -1.317498097), (-8.8, -0.3), (-9.817498097, -0.3), (-9.817498097, 0.3), (-8.8, 0.3), (-8.8, 1.317498097), (-8.2, 1.317498097), (-8.2, 0.3), (-7.182501903, 0.3), (-7.182501903, -0.3), (-8.2, -0.3), align=None)
    extrude(amount=-CUT_EXTRUDE7_DEPTH, mode=Mode.SUBTRACT)

    # Chamfer3
    chamfer3_edges = [body_5.edges().sort_by_distance(p)[0] for p in [
        (-8.5, 53.5, -1.317498097),
        (-7.182501903, 53.5, 0),
        (-8.5, 53.5, 1.317498097),
        (-9.817498097, 53.5, 0),
    ]]
    chamfer(chamfer3_edges, length=CHAMFER3_SIZE)


with BuildPart() as body_6:
    # Mirror1: mirrored copy
    add(body_5.part.mirror(Plane(origin=(0, 0, 0), x_dir=(0, 0, 1), z_dir=(1, 0, 0))))


solid = Compound([part.part, body_2.part, body_3.part, body_4.part, body_5.part, body_6.part])
